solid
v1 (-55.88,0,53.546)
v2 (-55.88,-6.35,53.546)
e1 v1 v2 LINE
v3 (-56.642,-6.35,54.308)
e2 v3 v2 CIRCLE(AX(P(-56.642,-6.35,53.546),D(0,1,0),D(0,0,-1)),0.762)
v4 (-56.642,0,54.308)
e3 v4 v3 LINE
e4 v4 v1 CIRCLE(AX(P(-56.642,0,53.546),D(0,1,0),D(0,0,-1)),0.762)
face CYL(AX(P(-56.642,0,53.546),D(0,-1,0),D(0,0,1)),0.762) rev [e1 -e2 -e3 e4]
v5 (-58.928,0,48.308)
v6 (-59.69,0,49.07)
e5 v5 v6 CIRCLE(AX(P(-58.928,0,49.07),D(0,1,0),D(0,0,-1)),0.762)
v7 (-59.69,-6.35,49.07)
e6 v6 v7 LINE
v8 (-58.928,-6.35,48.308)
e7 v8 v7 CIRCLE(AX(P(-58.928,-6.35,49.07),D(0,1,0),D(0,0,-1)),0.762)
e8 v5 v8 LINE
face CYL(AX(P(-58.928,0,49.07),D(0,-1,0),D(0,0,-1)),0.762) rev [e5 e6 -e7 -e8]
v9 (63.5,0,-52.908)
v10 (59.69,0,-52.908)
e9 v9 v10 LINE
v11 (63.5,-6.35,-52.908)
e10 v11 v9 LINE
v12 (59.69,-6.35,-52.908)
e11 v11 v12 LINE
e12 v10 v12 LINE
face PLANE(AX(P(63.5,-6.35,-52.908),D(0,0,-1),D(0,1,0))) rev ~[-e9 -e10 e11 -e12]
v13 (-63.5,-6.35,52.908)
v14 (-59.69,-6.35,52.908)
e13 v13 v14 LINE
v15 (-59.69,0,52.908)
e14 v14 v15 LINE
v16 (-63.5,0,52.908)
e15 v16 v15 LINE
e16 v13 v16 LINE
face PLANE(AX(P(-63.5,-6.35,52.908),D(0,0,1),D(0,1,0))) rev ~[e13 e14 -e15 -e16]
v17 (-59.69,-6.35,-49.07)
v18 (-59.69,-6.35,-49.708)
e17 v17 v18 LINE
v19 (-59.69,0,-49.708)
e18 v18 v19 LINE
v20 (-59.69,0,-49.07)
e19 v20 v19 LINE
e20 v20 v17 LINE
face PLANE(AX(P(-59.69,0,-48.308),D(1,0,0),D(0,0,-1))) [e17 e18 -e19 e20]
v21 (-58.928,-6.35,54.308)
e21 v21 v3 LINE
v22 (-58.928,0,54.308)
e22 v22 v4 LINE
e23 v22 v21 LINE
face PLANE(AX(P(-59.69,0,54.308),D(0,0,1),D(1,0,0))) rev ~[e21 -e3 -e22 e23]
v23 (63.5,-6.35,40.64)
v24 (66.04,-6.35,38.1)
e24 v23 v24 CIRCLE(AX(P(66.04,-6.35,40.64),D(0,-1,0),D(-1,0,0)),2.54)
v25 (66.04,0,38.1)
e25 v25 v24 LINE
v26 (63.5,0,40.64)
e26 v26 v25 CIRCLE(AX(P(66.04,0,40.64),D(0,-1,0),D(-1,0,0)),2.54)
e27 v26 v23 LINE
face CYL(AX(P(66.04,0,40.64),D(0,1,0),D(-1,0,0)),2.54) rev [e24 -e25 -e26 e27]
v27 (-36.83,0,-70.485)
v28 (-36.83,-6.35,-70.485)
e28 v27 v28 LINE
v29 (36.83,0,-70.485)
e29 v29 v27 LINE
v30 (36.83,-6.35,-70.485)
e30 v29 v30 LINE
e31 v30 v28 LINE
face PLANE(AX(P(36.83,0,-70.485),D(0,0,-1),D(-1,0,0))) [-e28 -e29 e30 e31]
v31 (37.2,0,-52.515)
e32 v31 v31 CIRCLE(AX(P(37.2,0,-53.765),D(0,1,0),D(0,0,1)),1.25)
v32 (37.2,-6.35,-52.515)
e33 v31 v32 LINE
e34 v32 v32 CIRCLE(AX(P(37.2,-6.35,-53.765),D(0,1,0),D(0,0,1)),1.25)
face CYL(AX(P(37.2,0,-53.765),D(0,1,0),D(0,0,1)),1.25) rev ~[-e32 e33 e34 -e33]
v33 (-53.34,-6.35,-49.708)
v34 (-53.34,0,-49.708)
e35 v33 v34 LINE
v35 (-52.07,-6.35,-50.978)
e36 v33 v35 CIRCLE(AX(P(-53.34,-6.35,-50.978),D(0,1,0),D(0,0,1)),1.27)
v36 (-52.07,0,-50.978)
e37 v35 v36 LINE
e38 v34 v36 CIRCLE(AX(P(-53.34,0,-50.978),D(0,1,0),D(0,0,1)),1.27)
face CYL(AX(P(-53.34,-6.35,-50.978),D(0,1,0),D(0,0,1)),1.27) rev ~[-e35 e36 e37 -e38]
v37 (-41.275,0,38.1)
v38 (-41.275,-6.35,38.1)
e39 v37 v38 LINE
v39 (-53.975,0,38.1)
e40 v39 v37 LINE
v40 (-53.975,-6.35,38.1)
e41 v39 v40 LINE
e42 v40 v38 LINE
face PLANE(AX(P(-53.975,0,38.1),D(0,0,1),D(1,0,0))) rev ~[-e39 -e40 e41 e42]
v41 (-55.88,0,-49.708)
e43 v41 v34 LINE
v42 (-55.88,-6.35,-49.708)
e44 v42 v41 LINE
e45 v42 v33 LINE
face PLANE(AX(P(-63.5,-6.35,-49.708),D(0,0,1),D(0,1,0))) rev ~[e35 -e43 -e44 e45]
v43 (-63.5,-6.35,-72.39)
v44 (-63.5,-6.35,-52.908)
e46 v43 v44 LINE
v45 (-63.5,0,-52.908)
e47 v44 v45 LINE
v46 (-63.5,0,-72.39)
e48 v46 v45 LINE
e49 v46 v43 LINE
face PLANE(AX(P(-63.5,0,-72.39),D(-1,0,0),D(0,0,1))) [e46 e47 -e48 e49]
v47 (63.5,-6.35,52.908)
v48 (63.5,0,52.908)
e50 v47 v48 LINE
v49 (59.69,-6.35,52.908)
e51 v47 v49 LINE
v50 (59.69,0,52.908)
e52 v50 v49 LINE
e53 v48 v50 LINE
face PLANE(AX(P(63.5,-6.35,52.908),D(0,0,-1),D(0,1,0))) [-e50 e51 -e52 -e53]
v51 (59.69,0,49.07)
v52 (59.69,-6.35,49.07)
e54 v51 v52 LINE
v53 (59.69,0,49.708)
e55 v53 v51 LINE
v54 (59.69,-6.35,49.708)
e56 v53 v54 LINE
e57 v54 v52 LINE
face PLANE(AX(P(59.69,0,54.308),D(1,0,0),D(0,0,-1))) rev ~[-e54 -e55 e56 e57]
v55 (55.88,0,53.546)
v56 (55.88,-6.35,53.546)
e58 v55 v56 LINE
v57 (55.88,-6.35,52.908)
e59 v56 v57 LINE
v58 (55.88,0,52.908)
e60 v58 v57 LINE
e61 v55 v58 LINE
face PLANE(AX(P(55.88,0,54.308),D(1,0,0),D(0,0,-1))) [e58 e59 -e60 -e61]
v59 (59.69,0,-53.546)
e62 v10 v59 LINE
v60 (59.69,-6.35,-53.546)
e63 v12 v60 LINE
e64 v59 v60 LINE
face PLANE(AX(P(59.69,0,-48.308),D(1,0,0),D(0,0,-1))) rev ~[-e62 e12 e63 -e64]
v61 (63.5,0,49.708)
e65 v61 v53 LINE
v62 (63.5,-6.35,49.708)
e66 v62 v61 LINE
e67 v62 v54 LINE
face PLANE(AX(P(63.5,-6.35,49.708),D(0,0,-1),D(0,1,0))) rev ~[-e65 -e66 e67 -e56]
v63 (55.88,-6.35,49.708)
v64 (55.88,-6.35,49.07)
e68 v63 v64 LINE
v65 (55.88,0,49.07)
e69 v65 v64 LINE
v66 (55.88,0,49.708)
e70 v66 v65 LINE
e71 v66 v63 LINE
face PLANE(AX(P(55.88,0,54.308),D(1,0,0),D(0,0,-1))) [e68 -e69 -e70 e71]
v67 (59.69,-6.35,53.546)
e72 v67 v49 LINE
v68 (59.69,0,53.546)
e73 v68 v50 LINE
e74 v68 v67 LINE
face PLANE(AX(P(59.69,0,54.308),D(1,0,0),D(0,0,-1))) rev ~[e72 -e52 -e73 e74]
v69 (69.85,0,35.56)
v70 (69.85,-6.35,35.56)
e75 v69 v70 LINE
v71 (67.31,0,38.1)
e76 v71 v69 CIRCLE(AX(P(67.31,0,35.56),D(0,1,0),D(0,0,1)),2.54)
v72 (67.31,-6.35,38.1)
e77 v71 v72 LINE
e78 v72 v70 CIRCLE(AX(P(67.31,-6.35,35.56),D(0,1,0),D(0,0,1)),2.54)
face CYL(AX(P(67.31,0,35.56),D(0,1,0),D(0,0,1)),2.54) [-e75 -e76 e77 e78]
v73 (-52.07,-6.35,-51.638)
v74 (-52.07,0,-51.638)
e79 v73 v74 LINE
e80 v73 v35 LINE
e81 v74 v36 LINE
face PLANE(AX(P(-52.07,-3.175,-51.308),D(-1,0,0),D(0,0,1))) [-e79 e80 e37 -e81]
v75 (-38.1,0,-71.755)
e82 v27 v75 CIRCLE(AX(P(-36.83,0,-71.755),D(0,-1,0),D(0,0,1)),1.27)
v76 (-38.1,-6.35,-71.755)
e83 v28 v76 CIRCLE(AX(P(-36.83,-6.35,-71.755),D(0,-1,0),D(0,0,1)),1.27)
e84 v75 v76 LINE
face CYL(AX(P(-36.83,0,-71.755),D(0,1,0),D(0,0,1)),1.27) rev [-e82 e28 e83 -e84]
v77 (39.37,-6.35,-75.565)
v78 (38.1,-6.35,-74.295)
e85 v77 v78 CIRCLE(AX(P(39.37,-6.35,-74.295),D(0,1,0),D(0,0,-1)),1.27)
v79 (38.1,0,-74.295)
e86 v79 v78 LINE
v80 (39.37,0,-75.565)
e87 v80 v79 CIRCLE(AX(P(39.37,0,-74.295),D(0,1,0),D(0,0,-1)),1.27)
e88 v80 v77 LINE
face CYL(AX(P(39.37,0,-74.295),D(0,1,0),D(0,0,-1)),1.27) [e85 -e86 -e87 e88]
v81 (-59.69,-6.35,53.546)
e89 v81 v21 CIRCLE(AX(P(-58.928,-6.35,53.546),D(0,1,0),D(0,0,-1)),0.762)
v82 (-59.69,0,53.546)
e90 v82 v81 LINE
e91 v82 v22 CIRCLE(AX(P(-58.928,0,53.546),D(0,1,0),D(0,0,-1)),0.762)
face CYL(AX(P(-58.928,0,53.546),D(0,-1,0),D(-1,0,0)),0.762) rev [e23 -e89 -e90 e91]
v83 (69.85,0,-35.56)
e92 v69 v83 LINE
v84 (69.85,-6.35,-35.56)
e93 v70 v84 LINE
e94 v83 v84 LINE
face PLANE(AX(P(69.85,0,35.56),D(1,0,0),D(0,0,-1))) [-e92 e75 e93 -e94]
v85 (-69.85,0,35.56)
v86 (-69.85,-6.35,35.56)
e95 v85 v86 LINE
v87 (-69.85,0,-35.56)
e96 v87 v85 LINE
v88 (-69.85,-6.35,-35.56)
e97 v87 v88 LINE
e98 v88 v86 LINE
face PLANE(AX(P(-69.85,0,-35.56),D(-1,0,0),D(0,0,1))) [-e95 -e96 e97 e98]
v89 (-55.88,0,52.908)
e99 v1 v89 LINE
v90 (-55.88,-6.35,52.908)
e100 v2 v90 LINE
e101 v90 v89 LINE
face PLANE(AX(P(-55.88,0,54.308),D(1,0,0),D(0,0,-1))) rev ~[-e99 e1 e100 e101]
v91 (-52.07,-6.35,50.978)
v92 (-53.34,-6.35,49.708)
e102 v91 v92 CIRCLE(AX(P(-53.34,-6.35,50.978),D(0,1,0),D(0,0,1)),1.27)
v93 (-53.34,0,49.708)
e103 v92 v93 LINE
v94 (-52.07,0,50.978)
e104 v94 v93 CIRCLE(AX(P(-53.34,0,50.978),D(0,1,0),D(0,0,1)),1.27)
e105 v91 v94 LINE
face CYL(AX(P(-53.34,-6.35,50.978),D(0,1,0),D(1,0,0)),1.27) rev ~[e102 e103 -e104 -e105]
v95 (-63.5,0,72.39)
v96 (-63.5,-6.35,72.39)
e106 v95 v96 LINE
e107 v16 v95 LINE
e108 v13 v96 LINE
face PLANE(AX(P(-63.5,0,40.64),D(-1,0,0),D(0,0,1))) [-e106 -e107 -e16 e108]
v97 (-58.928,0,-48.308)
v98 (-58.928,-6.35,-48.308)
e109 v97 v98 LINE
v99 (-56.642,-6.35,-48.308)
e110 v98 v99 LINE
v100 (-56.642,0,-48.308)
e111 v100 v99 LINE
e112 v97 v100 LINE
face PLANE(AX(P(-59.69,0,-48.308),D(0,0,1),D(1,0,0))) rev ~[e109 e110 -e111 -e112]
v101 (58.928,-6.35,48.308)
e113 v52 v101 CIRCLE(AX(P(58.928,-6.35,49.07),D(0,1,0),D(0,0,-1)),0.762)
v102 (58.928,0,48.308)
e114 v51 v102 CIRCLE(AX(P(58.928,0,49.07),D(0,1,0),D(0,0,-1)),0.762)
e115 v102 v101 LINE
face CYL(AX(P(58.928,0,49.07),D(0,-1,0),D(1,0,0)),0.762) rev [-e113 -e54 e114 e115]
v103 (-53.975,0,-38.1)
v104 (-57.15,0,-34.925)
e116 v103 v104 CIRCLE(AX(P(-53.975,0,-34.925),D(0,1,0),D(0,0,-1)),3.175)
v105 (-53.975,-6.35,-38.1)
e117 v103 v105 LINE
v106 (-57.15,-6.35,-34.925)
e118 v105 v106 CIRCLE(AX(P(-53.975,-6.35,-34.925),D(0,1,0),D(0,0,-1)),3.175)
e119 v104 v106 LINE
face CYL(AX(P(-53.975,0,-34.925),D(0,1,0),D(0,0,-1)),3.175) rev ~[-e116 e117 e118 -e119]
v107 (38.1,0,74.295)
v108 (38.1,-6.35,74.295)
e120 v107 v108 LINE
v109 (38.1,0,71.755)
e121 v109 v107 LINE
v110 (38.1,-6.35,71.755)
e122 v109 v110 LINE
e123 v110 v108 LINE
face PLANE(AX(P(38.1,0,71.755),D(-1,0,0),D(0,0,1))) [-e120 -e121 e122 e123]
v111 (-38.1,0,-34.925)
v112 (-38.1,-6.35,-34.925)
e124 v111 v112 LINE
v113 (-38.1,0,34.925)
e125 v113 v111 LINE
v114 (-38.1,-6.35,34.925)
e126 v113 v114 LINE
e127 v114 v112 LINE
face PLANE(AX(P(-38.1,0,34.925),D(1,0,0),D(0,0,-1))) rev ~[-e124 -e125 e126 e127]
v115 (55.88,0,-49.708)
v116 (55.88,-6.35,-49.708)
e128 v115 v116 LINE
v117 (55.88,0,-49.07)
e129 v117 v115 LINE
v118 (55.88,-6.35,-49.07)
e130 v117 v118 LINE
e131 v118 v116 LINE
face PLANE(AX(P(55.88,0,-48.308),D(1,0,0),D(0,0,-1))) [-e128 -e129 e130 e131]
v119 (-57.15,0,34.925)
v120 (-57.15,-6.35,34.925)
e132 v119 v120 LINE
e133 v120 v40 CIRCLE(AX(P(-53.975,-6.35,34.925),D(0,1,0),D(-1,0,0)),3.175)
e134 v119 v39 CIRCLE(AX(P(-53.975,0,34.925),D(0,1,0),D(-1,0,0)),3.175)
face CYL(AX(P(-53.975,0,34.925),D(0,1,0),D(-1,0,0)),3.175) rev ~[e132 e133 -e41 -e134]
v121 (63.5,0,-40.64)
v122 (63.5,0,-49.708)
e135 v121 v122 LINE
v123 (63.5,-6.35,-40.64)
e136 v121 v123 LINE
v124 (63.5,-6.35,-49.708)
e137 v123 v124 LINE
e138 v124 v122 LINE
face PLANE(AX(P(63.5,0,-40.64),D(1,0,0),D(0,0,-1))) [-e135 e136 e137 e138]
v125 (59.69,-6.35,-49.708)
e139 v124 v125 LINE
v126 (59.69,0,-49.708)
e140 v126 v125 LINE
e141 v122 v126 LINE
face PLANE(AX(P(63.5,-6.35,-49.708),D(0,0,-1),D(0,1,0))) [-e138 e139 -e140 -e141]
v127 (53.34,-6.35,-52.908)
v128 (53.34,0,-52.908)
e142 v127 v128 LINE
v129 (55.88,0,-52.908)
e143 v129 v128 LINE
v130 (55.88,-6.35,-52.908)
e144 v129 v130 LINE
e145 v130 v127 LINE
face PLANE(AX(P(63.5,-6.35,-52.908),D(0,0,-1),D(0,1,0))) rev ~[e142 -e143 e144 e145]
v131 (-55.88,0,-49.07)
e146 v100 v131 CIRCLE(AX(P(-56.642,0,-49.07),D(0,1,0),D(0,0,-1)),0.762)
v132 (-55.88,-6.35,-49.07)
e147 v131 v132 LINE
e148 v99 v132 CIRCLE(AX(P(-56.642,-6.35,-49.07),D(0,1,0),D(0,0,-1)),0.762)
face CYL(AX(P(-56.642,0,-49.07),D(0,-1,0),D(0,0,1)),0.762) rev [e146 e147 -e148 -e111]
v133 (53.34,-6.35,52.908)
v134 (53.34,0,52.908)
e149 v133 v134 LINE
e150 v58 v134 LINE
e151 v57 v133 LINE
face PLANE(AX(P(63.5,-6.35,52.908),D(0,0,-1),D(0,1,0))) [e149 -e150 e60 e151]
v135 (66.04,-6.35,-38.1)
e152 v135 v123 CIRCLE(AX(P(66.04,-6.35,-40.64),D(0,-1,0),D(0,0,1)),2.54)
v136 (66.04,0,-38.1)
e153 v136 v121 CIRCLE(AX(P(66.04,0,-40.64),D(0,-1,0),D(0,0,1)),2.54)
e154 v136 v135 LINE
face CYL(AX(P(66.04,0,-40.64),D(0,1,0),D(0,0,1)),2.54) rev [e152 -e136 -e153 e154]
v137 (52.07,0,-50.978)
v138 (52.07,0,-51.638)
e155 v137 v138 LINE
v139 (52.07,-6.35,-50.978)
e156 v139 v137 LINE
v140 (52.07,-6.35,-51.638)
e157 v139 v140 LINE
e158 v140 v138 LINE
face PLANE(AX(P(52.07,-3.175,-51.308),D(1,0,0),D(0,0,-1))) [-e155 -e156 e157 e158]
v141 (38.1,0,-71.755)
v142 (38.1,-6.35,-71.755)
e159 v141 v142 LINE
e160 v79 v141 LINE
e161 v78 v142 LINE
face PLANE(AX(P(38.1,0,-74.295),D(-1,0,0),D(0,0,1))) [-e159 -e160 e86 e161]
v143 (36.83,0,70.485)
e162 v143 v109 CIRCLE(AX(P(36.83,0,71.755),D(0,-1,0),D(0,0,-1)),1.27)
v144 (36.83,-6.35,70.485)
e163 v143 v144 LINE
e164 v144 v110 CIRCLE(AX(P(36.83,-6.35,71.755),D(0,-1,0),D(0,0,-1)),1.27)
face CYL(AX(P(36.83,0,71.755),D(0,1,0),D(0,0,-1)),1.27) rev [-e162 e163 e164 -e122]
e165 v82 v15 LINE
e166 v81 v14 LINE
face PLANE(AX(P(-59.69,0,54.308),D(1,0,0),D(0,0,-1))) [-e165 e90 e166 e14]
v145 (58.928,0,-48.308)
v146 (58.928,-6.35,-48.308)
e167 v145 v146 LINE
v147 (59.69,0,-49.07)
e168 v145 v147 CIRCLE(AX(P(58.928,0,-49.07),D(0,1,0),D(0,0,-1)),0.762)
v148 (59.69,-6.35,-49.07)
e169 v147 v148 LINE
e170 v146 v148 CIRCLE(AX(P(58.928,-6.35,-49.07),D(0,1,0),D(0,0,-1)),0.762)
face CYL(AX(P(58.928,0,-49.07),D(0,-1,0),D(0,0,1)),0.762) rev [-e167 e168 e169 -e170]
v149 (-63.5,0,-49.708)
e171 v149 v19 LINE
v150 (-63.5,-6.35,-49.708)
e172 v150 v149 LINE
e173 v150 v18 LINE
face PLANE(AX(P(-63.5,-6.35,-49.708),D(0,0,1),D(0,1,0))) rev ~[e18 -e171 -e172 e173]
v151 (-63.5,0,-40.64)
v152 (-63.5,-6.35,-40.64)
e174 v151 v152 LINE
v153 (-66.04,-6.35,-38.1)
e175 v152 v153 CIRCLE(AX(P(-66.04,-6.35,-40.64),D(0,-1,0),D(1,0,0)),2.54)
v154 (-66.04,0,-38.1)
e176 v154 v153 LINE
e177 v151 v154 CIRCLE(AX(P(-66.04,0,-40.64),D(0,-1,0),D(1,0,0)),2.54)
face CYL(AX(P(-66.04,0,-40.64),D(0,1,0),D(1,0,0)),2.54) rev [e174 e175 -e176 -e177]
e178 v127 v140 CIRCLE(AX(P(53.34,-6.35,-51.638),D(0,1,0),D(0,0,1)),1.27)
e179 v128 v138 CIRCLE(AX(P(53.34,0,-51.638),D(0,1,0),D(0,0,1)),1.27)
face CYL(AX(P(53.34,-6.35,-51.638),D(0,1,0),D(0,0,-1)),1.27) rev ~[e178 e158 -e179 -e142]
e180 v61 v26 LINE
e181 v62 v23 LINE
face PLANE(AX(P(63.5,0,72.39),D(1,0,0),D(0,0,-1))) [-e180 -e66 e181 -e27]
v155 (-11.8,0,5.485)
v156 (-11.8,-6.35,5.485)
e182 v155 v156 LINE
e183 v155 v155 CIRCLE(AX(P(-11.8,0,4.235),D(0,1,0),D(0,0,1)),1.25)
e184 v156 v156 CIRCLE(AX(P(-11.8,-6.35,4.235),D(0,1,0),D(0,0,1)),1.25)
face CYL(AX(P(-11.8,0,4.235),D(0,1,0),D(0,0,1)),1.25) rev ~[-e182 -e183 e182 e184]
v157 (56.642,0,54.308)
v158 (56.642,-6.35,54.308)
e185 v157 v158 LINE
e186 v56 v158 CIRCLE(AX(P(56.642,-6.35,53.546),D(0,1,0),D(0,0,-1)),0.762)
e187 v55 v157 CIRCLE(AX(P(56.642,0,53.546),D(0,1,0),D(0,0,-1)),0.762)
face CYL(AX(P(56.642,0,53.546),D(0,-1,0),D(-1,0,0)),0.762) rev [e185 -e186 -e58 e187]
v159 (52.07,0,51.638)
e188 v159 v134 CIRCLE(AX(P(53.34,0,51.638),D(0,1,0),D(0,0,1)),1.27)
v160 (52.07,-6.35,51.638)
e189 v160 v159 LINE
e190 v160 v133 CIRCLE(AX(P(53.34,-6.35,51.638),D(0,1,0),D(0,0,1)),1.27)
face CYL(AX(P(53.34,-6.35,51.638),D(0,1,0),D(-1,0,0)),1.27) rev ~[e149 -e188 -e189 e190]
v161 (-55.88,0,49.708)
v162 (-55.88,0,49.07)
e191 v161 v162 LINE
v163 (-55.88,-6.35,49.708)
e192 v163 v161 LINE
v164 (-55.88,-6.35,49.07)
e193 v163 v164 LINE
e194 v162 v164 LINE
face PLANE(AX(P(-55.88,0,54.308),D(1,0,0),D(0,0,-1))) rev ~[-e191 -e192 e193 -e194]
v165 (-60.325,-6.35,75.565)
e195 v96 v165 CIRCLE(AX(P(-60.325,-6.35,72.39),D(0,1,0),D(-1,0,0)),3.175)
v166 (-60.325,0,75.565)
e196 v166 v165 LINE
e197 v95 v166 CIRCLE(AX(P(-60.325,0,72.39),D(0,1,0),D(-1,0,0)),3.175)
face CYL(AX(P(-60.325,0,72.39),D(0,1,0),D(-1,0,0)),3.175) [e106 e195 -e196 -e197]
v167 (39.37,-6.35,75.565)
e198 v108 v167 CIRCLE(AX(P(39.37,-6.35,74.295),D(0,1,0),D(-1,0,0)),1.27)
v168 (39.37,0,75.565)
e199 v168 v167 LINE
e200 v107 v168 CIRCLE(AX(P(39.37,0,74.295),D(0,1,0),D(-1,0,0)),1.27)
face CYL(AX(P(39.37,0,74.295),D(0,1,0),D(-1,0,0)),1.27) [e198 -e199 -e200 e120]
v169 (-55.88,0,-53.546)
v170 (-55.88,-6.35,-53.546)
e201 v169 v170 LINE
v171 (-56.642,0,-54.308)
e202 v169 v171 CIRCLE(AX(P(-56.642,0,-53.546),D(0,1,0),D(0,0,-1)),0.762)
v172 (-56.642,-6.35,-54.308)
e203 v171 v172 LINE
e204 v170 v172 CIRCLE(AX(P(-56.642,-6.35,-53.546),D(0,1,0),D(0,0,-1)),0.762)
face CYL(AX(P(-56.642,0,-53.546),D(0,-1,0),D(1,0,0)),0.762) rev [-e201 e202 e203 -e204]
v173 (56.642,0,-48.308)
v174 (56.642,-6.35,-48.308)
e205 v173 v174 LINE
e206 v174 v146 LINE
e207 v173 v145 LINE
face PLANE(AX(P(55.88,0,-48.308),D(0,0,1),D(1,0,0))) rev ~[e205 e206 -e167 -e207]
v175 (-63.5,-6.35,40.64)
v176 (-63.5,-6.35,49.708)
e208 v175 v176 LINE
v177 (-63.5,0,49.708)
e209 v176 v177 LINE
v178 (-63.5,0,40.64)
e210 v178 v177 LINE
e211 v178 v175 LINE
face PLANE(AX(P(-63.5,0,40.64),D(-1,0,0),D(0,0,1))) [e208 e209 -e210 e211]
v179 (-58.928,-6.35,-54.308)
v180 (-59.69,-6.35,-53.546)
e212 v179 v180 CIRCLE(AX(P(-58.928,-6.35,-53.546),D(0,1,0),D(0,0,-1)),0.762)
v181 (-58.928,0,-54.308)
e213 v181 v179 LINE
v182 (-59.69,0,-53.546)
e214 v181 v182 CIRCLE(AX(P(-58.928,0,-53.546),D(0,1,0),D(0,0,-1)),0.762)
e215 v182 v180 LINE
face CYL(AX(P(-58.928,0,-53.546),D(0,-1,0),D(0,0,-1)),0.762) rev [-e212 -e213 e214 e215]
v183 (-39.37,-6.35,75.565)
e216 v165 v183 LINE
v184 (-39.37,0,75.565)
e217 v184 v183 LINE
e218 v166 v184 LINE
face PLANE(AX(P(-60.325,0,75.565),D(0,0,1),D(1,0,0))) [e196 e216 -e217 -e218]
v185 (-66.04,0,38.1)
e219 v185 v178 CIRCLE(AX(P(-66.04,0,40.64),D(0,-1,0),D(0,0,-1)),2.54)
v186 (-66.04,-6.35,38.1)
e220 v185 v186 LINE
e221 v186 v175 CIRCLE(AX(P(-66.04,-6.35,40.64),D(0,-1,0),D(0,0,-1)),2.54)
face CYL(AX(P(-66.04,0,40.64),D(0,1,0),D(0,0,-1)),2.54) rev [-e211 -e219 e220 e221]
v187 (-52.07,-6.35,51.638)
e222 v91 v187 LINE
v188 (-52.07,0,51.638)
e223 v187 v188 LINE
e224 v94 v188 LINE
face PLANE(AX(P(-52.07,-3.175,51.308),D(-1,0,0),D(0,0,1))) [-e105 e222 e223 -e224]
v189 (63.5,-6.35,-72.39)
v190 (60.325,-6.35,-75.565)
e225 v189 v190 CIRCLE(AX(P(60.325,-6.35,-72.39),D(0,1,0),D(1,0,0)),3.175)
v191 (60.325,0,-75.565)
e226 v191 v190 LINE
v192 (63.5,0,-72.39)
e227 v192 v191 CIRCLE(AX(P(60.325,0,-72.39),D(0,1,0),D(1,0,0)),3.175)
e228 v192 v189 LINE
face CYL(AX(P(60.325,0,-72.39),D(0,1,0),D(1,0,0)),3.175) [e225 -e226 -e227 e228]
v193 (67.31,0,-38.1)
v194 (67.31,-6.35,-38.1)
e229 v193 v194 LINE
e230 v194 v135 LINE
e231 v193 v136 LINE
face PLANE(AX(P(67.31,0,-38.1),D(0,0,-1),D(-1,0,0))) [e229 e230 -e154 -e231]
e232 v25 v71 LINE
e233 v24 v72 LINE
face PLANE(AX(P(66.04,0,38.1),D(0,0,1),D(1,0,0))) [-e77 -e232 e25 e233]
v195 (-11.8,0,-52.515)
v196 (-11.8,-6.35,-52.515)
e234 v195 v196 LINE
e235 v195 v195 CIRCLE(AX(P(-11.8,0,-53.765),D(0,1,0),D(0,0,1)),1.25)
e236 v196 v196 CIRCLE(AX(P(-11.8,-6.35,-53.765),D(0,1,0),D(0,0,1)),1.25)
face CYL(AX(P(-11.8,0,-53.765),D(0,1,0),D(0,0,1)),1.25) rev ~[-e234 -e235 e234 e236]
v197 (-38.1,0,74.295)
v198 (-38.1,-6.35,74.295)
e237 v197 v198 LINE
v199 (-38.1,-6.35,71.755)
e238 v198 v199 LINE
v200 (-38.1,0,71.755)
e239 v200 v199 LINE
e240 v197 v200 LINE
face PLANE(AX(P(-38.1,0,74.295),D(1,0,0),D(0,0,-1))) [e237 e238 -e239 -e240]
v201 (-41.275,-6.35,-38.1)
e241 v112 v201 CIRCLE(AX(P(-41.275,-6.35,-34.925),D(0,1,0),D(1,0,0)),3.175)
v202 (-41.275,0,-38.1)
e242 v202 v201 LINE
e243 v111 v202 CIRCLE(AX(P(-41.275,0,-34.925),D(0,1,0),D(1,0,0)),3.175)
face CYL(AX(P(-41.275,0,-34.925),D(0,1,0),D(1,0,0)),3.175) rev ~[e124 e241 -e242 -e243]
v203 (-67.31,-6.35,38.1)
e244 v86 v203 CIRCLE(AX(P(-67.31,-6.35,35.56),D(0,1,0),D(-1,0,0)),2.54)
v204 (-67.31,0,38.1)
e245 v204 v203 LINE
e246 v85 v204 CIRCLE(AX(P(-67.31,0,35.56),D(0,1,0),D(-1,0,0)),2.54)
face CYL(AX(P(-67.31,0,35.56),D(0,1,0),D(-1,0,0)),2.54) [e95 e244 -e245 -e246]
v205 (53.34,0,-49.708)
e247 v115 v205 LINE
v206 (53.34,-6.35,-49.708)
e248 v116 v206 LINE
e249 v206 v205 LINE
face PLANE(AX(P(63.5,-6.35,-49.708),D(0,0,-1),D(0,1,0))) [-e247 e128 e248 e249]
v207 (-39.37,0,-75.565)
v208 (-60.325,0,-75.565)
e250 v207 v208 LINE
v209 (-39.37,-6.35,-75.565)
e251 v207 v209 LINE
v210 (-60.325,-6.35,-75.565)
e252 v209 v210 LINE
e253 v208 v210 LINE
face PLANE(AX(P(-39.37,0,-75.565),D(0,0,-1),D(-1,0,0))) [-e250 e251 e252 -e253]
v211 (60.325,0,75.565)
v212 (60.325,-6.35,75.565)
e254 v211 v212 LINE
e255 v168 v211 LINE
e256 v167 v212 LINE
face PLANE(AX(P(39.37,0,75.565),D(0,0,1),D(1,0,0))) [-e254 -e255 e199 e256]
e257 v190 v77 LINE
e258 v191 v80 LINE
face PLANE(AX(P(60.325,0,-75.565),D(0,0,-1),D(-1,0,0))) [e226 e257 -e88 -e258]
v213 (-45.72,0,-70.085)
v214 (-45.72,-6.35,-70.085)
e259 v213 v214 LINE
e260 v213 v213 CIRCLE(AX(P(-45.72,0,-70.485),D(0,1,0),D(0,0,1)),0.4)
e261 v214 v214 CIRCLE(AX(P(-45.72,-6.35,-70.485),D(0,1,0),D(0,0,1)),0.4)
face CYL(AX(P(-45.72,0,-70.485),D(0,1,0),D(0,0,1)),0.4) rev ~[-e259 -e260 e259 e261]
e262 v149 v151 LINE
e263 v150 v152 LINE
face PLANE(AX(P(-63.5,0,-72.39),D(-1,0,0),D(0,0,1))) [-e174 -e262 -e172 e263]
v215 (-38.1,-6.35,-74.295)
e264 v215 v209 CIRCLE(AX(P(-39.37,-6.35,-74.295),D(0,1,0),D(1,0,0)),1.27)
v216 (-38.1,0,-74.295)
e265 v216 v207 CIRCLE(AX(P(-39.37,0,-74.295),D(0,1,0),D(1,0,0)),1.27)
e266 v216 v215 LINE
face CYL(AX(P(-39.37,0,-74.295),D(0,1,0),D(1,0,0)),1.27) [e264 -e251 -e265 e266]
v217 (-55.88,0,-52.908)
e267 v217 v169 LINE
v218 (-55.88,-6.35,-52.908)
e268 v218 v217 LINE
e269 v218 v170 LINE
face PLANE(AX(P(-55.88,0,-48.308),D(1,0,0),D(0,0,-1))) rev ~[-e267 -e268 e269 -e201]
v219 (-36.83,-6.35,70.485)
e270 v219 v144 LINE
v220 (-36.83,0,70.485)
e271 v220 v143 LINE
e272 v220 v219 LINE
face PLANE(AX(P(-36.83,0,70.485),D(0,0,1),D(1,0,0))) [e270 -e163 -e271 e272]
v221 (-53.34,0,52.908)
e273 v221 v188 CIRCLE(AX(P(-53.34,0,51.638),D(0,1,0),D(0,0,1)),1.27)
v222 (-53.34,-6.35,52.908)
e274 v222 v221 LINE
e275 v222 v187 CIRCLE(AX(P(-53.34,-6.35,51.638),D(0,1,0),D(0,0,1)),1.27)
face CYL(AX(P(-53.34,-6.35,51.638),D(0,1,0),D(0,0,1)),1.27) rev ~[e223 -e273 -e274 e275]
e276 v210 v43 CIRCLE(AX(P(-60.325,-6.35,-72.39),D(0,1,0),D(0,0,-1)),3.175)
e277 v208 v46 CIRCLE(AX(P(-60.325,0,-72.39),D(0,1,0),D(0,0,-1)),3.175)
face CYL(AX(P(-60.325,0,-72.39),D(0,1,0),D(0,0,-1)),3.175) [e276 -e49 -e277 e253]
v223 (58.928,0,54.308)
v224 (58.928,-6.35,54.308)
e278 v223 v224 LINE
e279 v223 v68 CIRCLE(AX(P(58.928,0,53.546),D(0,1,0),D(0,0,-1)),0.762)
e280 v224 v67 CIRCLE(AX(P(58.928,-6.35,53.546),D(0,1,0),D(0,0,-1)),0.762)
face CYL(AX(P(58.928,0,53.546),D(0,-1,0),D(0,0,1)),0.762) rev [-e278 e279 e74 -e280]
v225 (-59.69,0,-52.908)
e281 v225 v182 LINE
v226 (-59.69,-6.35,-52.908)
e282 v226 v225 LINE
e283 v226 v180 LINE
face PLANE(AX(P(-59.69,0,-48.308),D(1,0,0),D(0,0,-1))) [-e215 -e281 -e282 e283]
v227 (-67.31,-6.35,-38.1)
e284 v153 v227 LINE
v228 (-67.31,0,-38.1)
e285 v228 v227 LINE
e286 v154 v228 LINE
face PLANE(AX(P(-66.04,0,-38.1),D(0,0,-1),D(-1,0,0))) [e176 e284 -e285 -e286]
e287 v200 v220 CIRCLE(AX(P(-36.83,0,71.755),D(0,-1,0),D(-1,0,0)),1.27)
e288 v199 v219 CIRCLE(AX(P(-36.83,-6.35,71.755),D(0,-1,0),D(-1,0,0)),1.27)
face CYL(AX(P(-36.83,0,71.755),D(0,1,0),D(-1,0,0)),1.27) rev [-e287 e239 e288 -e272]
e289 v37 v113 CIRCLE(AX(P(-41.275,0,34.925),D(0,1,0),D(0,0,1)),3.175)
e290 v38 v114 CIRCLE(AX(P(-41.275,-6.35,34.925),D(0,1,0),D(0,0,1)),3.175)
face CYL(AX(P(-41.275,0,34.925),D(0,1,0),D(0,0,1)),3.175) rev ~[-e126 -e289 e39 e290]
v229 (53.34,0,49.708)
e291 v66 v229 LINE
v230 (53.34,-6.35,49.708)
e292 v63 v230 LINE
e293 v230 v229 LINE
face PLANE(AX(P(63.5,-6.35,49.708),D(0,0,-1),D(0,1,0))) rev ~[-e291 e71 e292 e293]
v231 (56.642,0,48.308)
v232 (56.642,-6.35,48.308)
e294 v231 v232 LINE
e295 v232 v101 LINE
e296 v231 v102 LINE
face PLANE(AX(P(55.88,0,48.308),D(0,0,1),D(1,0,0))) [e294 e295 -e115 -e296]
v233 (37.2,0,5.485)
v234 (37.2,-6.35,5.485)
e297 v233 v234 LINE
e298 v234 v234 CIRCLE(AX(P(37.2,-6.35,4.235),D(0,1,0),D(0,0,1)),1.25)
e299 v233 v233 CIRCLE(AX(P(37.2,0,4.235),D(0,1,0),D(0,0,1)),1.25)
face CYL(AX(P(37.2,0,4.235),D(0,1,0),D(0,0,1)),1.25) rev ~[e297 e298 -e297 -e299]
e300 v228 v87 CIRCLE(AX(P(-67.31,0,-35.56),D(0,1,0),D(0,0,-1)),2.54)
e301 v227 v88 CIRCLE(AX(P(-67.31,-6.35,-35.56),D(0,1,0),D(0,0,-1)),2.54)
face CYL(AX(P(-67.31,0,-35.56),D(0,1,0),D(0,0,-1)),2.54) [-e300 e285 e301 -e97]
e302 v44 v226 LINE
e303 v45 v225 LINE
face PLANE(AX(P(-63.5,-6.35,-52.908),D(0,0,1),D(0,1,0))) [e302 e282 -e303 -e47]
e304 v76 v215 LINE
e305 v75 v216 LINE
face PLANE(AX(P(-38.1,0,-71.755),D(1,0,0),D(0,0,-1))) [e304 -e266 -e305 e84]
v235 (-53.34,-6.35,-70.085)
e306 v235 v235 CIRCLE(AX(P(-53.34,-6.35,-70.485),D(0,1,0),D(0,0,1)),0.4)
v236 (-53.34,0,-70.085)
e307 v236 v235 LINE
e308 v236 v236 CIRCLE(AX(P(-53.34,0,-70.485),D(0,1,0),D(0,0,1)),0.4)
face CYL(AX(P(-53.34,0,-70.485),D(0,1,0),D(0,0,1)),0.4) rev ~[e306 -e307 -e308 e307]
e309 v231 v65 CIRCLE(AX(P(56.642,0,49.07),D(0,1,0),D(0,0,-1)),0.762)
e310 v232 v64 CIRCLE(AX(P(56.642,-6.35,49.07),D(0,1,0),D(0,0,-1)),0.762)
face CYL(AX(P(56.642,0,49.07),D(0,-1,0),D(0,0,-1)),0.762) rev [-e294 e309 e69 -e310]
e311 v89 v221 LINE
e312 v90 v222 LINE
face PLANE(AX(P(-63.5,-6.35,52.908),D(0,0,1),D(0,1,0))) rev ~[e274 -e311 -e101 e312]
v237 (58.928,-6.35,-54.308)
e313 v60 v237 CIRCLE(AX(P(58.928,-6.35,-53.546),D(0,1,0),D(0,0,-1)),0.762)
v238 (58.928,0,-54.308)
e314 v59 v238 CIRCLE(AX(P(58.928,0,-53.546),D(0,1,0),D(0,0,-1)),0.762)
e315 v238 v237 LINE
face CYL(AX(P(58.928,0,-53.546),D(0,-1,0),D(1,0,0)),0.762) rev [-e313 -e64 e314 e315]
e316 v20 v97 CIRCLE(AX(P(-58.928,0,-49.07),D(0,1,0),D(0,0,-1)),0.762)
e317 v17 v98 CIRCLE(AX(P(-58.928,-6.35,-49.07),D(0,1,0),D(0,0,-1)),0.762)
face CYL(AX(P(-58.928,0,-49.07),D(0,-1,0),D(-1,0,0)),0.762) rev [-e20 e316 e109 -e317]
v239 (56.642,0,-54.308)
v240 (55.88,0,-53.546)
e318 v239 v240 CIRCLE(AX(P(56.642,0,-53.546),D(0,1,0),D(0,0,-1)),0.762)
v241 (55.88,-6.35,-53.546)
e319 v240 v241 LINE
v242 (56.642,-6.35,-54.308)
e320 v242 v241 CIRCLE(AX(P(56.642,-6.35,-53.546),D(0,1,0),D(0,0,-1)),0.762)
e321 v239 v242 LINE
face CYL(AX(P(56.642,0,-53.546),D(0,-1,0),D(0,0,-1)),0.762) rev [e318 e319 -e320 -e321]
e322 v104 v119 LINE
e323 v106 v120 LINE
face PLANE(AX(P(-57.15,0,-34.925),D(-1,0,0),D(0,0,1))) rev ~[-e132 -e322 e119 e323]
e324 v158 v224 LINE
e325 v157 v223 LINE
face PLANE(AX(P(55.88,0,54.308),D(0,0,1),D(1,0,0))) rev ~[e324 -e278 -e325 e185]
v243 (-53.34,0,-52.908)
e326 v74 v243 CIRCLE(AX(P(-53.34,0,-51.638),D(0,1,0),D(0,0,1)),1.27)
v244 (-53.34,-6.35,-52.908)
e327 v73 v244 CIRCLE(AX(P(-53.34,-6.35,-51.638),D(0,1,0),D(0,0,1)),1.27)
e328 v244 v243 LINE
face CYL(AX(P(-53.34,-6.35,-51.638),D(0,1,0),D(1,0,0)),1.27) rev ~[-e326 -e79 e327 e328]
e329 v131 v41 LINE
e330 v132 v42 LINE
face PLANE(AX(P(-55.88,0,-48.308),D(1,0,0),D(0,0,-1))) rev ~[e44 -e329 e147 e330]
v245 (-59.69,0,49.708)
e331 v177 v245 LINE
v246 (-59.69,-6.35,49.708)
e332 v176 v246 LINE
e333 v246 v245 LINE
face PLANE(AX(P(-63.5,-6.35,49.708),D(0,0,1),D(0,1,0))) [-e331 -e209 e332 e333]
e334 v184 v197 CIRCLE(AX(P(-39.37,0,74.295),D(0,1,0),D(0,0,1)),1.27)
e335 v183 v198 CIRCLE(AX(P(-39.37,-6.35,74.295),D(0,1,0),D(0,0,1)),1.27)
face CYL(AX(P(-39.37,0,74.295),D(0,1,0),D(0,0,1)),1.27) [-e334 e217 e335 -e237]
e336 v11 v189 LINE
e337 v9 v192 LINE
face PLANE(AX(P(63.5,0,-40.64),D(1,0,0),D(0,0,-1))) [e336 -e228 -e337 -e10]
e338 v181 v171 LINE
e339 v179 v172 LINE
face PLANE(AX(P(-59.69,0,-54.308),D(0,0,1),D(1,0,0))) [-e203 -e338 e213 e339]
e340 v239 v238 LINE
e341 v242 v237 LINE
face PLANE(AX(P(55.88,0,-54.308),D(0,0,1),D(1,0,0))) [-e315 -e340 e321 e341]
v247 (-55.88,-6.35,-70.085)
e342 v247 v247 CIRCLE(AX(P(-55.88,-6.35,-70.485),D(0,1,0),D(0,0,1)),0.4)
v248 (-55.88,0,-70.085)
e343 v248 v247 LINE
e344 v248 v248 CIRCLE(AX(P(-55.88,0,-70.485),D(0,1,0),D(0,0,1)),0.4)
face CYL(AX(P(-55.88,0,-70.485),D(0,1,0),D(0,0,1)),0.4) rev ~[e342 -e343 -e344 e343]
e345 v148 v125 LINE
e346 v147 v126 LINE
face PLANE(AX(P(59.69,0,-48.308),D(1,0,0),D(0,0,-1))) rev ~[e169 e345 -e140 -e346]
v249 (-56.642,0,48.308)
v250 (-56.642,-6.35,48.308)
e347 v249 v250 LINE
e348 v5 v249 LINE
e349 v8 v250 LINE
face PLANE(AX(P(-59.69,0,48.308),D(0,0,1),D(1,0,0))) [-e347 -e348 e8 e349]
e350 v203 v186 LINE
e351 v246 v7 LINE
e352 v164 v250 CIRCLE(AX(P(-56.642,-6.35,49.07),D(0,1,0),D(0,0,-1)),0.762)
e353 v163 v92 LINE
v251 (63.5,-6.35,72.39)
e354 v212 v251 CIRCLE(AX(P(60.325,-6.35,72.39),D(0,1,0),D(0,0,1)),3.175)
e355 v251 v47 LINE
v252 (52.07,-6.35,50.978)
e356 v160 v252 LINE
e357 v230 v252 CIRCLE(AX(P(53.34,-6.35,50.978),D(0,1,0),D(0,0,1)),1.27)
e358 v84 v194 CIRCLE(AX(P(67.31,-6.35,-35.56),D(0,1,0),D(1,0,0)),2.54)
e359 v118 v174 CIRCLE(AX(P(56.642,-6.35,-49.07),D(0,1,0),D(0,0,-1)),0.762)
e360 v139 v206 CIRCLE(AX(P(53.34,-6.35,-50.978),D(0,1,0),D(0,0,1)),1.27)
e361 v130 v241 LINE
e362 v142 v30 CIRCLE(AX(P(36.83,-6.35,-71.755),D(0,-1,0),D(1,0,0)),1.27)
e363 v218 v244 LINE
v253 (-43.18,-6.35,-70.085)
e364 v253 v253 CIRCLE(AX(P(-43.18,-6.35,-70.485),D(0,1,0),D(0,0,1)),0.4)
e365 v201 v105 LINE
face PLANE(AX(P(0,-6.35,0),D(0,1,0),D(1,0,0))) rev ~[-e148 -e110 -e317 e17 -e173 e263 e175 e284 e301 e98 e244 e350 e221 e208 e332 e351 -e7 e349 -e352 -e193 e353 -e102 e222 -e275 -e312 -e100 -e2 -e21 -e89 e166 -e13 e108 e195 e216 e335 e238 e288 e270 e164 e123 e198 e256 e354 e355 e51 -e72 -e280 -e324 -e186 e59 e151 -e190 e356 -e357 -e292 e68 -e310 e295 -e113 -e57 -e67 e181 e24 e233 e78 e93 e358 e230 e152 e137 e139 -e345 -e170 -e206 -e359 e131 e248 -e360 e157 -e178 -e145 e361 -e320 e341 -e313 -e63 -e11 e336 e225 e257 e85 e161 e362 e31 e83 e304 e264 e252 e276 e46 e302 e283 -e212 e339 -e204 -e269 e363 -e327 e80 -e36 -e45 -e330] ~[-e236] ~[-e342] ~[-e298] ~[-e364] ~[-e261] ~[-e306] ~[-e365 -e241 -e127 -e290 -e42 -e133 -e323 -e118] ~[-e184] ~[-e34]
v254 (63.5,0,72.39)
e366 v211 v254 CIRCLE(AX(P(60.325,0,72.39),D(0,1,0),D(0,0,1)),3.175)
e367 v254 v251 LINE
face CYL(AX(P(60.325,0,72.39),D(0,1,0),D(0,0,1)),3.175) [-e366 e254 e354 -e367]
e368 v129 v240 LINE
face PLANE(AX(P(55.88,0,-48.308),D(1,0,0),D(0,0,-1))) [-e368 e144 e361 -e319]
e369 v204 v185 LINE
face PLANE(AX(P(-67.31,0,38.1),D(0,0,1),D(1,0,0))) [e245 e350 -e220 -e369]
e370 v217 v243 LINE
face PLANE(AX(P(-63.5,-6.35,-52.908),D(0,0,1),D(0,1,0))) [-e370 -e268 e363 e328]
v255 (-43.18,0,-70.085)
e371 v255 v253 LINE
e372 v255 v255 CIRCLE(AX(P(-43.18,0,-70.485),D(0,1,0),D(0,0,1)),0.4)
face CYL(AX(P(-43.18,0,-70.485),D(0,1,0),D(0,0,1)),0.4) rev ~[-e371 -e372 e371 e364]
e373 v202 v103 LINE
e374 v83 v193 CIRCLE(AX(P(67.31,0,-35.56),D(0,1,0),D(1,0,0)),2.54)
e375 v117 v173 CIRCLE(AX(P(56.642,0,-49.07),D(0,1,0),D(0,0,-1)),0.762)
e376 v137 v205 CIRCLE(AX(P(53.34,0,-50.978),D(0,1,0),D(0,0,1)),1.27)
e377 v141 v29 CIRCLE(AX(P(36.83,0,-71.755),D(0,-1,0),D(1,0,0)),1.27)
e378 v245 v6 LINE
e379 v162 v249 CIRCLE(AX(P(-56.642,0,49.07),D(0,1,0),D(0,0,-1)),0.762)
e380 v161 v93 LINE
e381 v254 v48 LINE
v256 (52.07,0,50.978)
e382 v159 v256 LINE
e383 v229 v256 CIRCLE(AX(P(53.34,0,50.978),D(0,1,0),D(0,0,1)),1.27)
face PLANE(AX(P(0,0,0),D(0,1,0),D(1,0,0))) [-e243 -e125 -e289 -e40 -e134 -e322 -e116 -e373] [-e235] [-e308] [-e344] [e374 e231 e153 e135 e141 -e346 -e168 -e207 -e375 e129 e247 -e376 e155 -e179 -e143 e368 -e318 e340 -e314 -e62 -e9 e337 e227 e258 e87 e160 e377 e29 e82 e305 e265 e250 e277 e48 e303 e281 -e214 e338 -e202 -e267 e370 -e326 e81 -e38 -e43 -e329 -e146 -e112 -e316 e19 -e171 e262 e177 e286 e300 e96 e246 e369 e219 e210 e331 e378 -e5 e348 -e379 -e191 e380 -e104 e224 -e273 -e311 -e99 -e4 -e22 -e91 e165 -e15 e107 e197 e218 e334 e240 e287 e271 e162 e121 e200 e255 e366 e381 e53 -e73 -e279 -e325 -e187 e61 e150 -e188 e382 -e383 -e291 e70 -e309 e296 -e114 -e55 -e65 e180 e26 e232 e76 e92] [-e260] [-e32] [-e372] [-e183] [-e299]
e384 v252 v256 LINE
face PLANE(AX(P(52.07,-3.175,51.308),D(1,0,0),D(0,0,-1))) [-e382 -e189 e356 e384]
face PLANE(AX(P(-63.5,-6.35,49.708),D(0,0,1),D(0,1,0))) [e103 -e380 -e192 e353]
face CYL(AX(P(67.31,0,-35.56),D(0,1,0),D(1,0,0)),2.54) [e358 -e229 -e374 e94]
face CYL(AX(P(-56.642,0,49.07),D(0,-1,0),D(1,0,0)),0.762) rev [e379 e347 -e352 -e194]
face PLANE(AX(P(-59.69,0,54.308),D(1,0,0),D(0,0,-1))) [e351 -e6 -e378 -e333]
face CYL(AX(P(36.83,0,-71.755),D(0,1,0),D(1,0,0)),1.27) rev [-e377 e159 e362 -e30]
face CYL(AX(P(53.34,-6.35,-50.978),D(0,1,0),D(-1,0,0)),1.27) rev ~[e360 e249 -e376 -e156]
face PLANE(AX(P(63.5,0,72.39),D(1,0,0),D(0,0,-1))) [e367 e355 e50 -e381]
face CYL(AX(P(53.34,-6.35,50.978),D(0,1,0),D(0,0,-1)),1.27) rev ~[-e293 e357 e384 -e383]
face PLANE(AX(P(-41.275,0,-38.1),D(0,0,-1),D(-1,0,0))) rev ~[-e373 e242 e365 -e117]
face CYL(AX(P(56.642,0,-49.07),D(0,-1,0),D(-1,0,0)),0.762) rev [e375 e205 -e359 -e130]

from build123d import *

# Parameters (mm, degrees)
SKETCH1_R           = 0.4
BOSS_EXTRUDE1_DEPTH = 6.35
SKETCH5_R           = 1.25
CUT_EXTRUDE3_DEPTH  = 6.35
SKETCH4_W           = 3.2
SKETCH4_H           = 6.35
CUT_EXTRUDE4_DEPTH  = 11.43
SKETCH2_W           = 3.2
SKETCH2_H           = 6.35
CUT_EXTRUDE5_DEPTH  = 11.43
FILLET1_R           = 1.27
SKETCH6_W           = 3.81
SKETCH6_H           = 6
CUT_EXTRUDE6_DEPTH  = 6.35
FILLET2_R           = 0.762


with BuildPart() as part:
    # Sketch1 → Boss-Extrude1 (new body)
    with BuildSketch(Plane(origin=(0, 0, 0), x_dir=(1, 0, 0), z_dir=(0, 1, 0))):
        with BuildLine():
            Line((-60.325, -75.565), (-39.37, -75.565))
            ThreePointArc((-39.37, -75.565), (-38.471974388, -75.193025612), (-38.1, -74.295))
            Line((-38.1, -74.295), (-38.1, -71.755))
            ThreePointArc((-38.1, -71.755), (-37.728025612, -70.856974388), (-36.83, -70.485))
            Line((-36.83, -70.485), (36.83, -70.485))
            ThreePointArc((36.83, -70.485), (37.728025612, -70.856974388), (38.1, -71.755))
            Line((38.1, -71.755), (38.1, -74.295))
            ThreePointArc((38.1, -74.295), (38.471974388, -75.193025612), (39.37, -75.565))
            Line((39.37, -75.565), (60.325, -75.565))
            ThreePointArc((60.325, -75.565), (62.57006403, -74.63506403), (63.5, -72.39))
            Line((63.5, -72.39), (63.5, -40.64))
            ThreePointArc((63.5, -40.64), (64.243948776, -38.843948776), (66.04, -38.1))
            Line((66.04, -38.1), (67.31, -38.1))
            ThreePointArc((67.31, -38.1), (69.106051224, -37.356051224), (69.85, -35.56))
            Line((69.85, -35.56), (69.85, 35.56))
            ThreePointArc((69.85, 35.56), (69.106051224, 37.356051224), (67.31, 38.1))
            Line((67.31, 38.1), (66.04, 38.1))
            ThreePointArc((66.04, 38.1), (64.243948776, 38.843948776), (63.5, 40.64))
            Line((63.5, 40.64), (63.5, 72.39))
            ThreePointArc((63.5, 72.39), (62.57006403, 74.63506403), (60.325, 75.565))
            Line((60.325, 75.565), (39.37, 75.565))
            ThreePointArc((39.37, 75.565), (38.471974388, 75.193025612), (38.1, 74.295))
            Line((38.1, 74.295), (38.1, 71.755))
            ThreePointArc((38.1, 71.755), (37.728025612, 70.856974388), (36.83, 70.485))
            Line((36.83, 70.485), (-36.83, 70.485))
            ThreePointArc((-36.83, 70.485), (-37.728025612, 70.856974388), (-38.1, 71.755))
            Line((-38.1, 71.755), (-38.1, 74.295))
            ThreePointArc((-38.1, 74.295), (-38.471974388, 75.193025612), (-39.37, 75.565))
            Line((-39.37, 75.565), (-60.325, 75.565))
            ThreePointArc((-60.325, 75.565), (-62.57006403, 74.63506403), (-63.5, 72.39))
            Line((-63.5, 72.39), (-63.5, 40.64))
            ThreePointArc((-63.5, 40.64), (-64.243948776, 38.843948776), (-66.04, 38.1))
            Line((-66.04, 38.1), (-67.31, 38.1))
            ThreePointArc((-67.31, 38.1), (-69.106051224, 37.356051224), (-69.85, 35.56))
            Line((-69.85, 35.56), (-69.85, -35.56))
            ThreePointArc((-69.85, -35.56), (-69.106051224, -37.356051224), (-67.31, -38.1))
            Line((-67.31, -38.1), (-66.04, -38.1))
            ThreePointArc((-66.04, -38.1), (-64.243948776, -38.843948776), (-63.5, -40.64))
            Line((-63.5, -40.64), (-63.5, -72.39))
            ThreePointArc((-63.5, -72.39), (-62.57006403, -74.63506403), (-60.325, -75.565))
        make_face()
        with Locations(Location((-45.72, 70.485, 0), (0, 0, 270))):
            Circle(SKETCH1_R, mode=Mode.SUBTRACT)
        with Locations(Location((-43.18, 70.485, 0), (0, 0, 270))):
            Circle(SKETCH1_R, mode=Mode.SUBTRACT)
        with Locations(Location((-55.88, 70.485, 0), (0, 0, 270))):
            Circle(SKETCH1_R, mode=Mode.SUBTRACT)
        with Locations(Location((-53.34, 70.485, 0), (0, 0, 270))):
            Circle(SKETCH1_R, mode=Mode.SUBTRACT)
        with BuildLine():
            Line((-53.975, -38.1), (-41.275, -38.1))
            ThreePointArc((-41.275, -38.1), (-39.02993597, -37.17006403), (-38.1, -34.925))
            Line((-38.1, -34.925), (-38.1, 34.925))
            ThreePointArc((-38.1, 34.925), (-39.02993597, 37.17006403), (-41.275, 38.1))
            Line((-41.275, 38.1), (-53.975, 38.1))
            ThreePointArc((-53.975, 38.1), (-56.22006403, 37.17006403), (-57.15, 34.925))
            Line((-57.15, 34.925), (-57.15, -34.925))
            ThreePointArc((-57.15, -34.925), (-56.22006403, -37.17006403), (-53.975, -38.1))
        make_face(mode=Mode.SUBTRACT)
    extrude(amount=-BOSS_EXTRUDE1_DEPTH)

    # Sketch5 → Cut-Extrude3 (cut)
    with BuildSketch(Plane(origin=(0, 0, 0), x_dir=(1, 0, 0), z_dir=(0, 1, 0))):
        with Locations(Location((-11.8, -4.235, 0), (0, 0, 270))):
            Circle(SKETCH5_R)
        with Locations(Location((-11.8, 53.765, 0), (0, 0, 270))):
            Circle(SKETCH5_R)
        with Locations(Location((37.2, -4.235, 0), (0, 0, 270))):
            Circle(SKETCH5_R)
        with Locations(Location((37.2, 53.765, 0), (0, 0, 270))):
            Circle(SKETCH5_R)
    extrude(amount=-CUT_EXTRUDE3_DEPTH, mode=Mode.SUBTRACT)

    # Sketch4 → Cut-Extrude4 (cut)
    with BuildSketch(Plane.ZY.offset(63.5)):
        with Locations((51.308, -3.175)):
            Rectangle(SKETCH4_W, SKETCH4_H)
        with Locations((-51.308, -3.175)):
            Rectangle(SKETCH4_W, SKETCH4_H)
    extrude(amount=-CUT_EXTRUDE4_DEPTH, mode=Mode.SUBTRACT)

    # Sketch2 → Cut-Extrude5 (cut)
    with BuildSketch(Plane(origin=(63.5, 0, 0), x_dir=(0, 0, -1), z_dir=(1, 0, 0))):
        with Locations((51.308, -3.175)):
            Rectangle(SKETCH2_W, SKETCH2_H)
        with Locations((-51.308, -3.175)):
            Rectangle(SKETCH2_W, SKETCH2_H)
    extrude(amount=-CUT_EXTRUDE5_DEPTH, mode=Mode.SUBTRACT)

    # Fillet1
    fillet1_edges = [part.edges().sort_by_distance(p)[0] for p in [
        (-52.07, -3.175, 49.708),
        (-52.07, -3.175, 52.908),
        (-52.07, -3.175, -52.908),
        (-52.07, -3.175, -49.708),
        (52.07, -3.175, -49.708),
        (52.07, -3.175, -52.908),
        (52.07, -3.175, 52.908),
        (52.07, -3.175, 49.708),
    ]]
    fillet(fillet1_edges, radius=FILLET1_R)

    # Sketch6 → Cut-Extrude6 (cut)
    with BuildSketch(Plane(origin=(0, 0, 0), x_dir=(1, 0, 0), z_dir=(0, 1, 0))):
        with Locations((57.785, -51.308)):
            Rectangle(SKETCH6_W, SKETCH6_H)
        with Locations((-57.785, -51.308)):
            Rectangle(SKETCH6_W, SKETCH6_H)
        with Locations((-57.785, 51.308)):
            Rectangle(SKETCH6_W, SKETCH6_H)
        with Locations((57.785, 51.308)):
            Rectangle(SKETCH6_W, SKETCH6_H)
    extrude(amount=-CUT_EXTRUDE6_DEPTH, mode=Mode.SUBTRACT)

    # Fillet2
    fillet2_edges = [part.edges().sort_by_distance(p)[0] for p in [
        (55.88, -3.175, -48.308),
        (59.69, -3.175, -54.308),
        (59.69, -3.175, -48.308),
        (55.88, -3.175, -54.308),
        (-55.88, -3.175, -54.308),
        (-59.69, -3.175, -48.308),
        (-59.69, -3.175, -54.308),
        (-55.88, -3.175, -48.308),
        (-55.88, -3.175, 48.308),
        (-59.69, -3.175, 48.308),
        (-55.88, -3.175, 54.308),
        (-59.69, -3.175, 54.308),
        (55.88, -3.175, 54.308),
        (59.69, -3.175, 48.308),
        (55.88, -3.175, 48.308),
        (59.69, -3.175, 54.308),
    ]]
    fillet(fillet2_edges, radius=FILLET2_R)


solid = part.part
